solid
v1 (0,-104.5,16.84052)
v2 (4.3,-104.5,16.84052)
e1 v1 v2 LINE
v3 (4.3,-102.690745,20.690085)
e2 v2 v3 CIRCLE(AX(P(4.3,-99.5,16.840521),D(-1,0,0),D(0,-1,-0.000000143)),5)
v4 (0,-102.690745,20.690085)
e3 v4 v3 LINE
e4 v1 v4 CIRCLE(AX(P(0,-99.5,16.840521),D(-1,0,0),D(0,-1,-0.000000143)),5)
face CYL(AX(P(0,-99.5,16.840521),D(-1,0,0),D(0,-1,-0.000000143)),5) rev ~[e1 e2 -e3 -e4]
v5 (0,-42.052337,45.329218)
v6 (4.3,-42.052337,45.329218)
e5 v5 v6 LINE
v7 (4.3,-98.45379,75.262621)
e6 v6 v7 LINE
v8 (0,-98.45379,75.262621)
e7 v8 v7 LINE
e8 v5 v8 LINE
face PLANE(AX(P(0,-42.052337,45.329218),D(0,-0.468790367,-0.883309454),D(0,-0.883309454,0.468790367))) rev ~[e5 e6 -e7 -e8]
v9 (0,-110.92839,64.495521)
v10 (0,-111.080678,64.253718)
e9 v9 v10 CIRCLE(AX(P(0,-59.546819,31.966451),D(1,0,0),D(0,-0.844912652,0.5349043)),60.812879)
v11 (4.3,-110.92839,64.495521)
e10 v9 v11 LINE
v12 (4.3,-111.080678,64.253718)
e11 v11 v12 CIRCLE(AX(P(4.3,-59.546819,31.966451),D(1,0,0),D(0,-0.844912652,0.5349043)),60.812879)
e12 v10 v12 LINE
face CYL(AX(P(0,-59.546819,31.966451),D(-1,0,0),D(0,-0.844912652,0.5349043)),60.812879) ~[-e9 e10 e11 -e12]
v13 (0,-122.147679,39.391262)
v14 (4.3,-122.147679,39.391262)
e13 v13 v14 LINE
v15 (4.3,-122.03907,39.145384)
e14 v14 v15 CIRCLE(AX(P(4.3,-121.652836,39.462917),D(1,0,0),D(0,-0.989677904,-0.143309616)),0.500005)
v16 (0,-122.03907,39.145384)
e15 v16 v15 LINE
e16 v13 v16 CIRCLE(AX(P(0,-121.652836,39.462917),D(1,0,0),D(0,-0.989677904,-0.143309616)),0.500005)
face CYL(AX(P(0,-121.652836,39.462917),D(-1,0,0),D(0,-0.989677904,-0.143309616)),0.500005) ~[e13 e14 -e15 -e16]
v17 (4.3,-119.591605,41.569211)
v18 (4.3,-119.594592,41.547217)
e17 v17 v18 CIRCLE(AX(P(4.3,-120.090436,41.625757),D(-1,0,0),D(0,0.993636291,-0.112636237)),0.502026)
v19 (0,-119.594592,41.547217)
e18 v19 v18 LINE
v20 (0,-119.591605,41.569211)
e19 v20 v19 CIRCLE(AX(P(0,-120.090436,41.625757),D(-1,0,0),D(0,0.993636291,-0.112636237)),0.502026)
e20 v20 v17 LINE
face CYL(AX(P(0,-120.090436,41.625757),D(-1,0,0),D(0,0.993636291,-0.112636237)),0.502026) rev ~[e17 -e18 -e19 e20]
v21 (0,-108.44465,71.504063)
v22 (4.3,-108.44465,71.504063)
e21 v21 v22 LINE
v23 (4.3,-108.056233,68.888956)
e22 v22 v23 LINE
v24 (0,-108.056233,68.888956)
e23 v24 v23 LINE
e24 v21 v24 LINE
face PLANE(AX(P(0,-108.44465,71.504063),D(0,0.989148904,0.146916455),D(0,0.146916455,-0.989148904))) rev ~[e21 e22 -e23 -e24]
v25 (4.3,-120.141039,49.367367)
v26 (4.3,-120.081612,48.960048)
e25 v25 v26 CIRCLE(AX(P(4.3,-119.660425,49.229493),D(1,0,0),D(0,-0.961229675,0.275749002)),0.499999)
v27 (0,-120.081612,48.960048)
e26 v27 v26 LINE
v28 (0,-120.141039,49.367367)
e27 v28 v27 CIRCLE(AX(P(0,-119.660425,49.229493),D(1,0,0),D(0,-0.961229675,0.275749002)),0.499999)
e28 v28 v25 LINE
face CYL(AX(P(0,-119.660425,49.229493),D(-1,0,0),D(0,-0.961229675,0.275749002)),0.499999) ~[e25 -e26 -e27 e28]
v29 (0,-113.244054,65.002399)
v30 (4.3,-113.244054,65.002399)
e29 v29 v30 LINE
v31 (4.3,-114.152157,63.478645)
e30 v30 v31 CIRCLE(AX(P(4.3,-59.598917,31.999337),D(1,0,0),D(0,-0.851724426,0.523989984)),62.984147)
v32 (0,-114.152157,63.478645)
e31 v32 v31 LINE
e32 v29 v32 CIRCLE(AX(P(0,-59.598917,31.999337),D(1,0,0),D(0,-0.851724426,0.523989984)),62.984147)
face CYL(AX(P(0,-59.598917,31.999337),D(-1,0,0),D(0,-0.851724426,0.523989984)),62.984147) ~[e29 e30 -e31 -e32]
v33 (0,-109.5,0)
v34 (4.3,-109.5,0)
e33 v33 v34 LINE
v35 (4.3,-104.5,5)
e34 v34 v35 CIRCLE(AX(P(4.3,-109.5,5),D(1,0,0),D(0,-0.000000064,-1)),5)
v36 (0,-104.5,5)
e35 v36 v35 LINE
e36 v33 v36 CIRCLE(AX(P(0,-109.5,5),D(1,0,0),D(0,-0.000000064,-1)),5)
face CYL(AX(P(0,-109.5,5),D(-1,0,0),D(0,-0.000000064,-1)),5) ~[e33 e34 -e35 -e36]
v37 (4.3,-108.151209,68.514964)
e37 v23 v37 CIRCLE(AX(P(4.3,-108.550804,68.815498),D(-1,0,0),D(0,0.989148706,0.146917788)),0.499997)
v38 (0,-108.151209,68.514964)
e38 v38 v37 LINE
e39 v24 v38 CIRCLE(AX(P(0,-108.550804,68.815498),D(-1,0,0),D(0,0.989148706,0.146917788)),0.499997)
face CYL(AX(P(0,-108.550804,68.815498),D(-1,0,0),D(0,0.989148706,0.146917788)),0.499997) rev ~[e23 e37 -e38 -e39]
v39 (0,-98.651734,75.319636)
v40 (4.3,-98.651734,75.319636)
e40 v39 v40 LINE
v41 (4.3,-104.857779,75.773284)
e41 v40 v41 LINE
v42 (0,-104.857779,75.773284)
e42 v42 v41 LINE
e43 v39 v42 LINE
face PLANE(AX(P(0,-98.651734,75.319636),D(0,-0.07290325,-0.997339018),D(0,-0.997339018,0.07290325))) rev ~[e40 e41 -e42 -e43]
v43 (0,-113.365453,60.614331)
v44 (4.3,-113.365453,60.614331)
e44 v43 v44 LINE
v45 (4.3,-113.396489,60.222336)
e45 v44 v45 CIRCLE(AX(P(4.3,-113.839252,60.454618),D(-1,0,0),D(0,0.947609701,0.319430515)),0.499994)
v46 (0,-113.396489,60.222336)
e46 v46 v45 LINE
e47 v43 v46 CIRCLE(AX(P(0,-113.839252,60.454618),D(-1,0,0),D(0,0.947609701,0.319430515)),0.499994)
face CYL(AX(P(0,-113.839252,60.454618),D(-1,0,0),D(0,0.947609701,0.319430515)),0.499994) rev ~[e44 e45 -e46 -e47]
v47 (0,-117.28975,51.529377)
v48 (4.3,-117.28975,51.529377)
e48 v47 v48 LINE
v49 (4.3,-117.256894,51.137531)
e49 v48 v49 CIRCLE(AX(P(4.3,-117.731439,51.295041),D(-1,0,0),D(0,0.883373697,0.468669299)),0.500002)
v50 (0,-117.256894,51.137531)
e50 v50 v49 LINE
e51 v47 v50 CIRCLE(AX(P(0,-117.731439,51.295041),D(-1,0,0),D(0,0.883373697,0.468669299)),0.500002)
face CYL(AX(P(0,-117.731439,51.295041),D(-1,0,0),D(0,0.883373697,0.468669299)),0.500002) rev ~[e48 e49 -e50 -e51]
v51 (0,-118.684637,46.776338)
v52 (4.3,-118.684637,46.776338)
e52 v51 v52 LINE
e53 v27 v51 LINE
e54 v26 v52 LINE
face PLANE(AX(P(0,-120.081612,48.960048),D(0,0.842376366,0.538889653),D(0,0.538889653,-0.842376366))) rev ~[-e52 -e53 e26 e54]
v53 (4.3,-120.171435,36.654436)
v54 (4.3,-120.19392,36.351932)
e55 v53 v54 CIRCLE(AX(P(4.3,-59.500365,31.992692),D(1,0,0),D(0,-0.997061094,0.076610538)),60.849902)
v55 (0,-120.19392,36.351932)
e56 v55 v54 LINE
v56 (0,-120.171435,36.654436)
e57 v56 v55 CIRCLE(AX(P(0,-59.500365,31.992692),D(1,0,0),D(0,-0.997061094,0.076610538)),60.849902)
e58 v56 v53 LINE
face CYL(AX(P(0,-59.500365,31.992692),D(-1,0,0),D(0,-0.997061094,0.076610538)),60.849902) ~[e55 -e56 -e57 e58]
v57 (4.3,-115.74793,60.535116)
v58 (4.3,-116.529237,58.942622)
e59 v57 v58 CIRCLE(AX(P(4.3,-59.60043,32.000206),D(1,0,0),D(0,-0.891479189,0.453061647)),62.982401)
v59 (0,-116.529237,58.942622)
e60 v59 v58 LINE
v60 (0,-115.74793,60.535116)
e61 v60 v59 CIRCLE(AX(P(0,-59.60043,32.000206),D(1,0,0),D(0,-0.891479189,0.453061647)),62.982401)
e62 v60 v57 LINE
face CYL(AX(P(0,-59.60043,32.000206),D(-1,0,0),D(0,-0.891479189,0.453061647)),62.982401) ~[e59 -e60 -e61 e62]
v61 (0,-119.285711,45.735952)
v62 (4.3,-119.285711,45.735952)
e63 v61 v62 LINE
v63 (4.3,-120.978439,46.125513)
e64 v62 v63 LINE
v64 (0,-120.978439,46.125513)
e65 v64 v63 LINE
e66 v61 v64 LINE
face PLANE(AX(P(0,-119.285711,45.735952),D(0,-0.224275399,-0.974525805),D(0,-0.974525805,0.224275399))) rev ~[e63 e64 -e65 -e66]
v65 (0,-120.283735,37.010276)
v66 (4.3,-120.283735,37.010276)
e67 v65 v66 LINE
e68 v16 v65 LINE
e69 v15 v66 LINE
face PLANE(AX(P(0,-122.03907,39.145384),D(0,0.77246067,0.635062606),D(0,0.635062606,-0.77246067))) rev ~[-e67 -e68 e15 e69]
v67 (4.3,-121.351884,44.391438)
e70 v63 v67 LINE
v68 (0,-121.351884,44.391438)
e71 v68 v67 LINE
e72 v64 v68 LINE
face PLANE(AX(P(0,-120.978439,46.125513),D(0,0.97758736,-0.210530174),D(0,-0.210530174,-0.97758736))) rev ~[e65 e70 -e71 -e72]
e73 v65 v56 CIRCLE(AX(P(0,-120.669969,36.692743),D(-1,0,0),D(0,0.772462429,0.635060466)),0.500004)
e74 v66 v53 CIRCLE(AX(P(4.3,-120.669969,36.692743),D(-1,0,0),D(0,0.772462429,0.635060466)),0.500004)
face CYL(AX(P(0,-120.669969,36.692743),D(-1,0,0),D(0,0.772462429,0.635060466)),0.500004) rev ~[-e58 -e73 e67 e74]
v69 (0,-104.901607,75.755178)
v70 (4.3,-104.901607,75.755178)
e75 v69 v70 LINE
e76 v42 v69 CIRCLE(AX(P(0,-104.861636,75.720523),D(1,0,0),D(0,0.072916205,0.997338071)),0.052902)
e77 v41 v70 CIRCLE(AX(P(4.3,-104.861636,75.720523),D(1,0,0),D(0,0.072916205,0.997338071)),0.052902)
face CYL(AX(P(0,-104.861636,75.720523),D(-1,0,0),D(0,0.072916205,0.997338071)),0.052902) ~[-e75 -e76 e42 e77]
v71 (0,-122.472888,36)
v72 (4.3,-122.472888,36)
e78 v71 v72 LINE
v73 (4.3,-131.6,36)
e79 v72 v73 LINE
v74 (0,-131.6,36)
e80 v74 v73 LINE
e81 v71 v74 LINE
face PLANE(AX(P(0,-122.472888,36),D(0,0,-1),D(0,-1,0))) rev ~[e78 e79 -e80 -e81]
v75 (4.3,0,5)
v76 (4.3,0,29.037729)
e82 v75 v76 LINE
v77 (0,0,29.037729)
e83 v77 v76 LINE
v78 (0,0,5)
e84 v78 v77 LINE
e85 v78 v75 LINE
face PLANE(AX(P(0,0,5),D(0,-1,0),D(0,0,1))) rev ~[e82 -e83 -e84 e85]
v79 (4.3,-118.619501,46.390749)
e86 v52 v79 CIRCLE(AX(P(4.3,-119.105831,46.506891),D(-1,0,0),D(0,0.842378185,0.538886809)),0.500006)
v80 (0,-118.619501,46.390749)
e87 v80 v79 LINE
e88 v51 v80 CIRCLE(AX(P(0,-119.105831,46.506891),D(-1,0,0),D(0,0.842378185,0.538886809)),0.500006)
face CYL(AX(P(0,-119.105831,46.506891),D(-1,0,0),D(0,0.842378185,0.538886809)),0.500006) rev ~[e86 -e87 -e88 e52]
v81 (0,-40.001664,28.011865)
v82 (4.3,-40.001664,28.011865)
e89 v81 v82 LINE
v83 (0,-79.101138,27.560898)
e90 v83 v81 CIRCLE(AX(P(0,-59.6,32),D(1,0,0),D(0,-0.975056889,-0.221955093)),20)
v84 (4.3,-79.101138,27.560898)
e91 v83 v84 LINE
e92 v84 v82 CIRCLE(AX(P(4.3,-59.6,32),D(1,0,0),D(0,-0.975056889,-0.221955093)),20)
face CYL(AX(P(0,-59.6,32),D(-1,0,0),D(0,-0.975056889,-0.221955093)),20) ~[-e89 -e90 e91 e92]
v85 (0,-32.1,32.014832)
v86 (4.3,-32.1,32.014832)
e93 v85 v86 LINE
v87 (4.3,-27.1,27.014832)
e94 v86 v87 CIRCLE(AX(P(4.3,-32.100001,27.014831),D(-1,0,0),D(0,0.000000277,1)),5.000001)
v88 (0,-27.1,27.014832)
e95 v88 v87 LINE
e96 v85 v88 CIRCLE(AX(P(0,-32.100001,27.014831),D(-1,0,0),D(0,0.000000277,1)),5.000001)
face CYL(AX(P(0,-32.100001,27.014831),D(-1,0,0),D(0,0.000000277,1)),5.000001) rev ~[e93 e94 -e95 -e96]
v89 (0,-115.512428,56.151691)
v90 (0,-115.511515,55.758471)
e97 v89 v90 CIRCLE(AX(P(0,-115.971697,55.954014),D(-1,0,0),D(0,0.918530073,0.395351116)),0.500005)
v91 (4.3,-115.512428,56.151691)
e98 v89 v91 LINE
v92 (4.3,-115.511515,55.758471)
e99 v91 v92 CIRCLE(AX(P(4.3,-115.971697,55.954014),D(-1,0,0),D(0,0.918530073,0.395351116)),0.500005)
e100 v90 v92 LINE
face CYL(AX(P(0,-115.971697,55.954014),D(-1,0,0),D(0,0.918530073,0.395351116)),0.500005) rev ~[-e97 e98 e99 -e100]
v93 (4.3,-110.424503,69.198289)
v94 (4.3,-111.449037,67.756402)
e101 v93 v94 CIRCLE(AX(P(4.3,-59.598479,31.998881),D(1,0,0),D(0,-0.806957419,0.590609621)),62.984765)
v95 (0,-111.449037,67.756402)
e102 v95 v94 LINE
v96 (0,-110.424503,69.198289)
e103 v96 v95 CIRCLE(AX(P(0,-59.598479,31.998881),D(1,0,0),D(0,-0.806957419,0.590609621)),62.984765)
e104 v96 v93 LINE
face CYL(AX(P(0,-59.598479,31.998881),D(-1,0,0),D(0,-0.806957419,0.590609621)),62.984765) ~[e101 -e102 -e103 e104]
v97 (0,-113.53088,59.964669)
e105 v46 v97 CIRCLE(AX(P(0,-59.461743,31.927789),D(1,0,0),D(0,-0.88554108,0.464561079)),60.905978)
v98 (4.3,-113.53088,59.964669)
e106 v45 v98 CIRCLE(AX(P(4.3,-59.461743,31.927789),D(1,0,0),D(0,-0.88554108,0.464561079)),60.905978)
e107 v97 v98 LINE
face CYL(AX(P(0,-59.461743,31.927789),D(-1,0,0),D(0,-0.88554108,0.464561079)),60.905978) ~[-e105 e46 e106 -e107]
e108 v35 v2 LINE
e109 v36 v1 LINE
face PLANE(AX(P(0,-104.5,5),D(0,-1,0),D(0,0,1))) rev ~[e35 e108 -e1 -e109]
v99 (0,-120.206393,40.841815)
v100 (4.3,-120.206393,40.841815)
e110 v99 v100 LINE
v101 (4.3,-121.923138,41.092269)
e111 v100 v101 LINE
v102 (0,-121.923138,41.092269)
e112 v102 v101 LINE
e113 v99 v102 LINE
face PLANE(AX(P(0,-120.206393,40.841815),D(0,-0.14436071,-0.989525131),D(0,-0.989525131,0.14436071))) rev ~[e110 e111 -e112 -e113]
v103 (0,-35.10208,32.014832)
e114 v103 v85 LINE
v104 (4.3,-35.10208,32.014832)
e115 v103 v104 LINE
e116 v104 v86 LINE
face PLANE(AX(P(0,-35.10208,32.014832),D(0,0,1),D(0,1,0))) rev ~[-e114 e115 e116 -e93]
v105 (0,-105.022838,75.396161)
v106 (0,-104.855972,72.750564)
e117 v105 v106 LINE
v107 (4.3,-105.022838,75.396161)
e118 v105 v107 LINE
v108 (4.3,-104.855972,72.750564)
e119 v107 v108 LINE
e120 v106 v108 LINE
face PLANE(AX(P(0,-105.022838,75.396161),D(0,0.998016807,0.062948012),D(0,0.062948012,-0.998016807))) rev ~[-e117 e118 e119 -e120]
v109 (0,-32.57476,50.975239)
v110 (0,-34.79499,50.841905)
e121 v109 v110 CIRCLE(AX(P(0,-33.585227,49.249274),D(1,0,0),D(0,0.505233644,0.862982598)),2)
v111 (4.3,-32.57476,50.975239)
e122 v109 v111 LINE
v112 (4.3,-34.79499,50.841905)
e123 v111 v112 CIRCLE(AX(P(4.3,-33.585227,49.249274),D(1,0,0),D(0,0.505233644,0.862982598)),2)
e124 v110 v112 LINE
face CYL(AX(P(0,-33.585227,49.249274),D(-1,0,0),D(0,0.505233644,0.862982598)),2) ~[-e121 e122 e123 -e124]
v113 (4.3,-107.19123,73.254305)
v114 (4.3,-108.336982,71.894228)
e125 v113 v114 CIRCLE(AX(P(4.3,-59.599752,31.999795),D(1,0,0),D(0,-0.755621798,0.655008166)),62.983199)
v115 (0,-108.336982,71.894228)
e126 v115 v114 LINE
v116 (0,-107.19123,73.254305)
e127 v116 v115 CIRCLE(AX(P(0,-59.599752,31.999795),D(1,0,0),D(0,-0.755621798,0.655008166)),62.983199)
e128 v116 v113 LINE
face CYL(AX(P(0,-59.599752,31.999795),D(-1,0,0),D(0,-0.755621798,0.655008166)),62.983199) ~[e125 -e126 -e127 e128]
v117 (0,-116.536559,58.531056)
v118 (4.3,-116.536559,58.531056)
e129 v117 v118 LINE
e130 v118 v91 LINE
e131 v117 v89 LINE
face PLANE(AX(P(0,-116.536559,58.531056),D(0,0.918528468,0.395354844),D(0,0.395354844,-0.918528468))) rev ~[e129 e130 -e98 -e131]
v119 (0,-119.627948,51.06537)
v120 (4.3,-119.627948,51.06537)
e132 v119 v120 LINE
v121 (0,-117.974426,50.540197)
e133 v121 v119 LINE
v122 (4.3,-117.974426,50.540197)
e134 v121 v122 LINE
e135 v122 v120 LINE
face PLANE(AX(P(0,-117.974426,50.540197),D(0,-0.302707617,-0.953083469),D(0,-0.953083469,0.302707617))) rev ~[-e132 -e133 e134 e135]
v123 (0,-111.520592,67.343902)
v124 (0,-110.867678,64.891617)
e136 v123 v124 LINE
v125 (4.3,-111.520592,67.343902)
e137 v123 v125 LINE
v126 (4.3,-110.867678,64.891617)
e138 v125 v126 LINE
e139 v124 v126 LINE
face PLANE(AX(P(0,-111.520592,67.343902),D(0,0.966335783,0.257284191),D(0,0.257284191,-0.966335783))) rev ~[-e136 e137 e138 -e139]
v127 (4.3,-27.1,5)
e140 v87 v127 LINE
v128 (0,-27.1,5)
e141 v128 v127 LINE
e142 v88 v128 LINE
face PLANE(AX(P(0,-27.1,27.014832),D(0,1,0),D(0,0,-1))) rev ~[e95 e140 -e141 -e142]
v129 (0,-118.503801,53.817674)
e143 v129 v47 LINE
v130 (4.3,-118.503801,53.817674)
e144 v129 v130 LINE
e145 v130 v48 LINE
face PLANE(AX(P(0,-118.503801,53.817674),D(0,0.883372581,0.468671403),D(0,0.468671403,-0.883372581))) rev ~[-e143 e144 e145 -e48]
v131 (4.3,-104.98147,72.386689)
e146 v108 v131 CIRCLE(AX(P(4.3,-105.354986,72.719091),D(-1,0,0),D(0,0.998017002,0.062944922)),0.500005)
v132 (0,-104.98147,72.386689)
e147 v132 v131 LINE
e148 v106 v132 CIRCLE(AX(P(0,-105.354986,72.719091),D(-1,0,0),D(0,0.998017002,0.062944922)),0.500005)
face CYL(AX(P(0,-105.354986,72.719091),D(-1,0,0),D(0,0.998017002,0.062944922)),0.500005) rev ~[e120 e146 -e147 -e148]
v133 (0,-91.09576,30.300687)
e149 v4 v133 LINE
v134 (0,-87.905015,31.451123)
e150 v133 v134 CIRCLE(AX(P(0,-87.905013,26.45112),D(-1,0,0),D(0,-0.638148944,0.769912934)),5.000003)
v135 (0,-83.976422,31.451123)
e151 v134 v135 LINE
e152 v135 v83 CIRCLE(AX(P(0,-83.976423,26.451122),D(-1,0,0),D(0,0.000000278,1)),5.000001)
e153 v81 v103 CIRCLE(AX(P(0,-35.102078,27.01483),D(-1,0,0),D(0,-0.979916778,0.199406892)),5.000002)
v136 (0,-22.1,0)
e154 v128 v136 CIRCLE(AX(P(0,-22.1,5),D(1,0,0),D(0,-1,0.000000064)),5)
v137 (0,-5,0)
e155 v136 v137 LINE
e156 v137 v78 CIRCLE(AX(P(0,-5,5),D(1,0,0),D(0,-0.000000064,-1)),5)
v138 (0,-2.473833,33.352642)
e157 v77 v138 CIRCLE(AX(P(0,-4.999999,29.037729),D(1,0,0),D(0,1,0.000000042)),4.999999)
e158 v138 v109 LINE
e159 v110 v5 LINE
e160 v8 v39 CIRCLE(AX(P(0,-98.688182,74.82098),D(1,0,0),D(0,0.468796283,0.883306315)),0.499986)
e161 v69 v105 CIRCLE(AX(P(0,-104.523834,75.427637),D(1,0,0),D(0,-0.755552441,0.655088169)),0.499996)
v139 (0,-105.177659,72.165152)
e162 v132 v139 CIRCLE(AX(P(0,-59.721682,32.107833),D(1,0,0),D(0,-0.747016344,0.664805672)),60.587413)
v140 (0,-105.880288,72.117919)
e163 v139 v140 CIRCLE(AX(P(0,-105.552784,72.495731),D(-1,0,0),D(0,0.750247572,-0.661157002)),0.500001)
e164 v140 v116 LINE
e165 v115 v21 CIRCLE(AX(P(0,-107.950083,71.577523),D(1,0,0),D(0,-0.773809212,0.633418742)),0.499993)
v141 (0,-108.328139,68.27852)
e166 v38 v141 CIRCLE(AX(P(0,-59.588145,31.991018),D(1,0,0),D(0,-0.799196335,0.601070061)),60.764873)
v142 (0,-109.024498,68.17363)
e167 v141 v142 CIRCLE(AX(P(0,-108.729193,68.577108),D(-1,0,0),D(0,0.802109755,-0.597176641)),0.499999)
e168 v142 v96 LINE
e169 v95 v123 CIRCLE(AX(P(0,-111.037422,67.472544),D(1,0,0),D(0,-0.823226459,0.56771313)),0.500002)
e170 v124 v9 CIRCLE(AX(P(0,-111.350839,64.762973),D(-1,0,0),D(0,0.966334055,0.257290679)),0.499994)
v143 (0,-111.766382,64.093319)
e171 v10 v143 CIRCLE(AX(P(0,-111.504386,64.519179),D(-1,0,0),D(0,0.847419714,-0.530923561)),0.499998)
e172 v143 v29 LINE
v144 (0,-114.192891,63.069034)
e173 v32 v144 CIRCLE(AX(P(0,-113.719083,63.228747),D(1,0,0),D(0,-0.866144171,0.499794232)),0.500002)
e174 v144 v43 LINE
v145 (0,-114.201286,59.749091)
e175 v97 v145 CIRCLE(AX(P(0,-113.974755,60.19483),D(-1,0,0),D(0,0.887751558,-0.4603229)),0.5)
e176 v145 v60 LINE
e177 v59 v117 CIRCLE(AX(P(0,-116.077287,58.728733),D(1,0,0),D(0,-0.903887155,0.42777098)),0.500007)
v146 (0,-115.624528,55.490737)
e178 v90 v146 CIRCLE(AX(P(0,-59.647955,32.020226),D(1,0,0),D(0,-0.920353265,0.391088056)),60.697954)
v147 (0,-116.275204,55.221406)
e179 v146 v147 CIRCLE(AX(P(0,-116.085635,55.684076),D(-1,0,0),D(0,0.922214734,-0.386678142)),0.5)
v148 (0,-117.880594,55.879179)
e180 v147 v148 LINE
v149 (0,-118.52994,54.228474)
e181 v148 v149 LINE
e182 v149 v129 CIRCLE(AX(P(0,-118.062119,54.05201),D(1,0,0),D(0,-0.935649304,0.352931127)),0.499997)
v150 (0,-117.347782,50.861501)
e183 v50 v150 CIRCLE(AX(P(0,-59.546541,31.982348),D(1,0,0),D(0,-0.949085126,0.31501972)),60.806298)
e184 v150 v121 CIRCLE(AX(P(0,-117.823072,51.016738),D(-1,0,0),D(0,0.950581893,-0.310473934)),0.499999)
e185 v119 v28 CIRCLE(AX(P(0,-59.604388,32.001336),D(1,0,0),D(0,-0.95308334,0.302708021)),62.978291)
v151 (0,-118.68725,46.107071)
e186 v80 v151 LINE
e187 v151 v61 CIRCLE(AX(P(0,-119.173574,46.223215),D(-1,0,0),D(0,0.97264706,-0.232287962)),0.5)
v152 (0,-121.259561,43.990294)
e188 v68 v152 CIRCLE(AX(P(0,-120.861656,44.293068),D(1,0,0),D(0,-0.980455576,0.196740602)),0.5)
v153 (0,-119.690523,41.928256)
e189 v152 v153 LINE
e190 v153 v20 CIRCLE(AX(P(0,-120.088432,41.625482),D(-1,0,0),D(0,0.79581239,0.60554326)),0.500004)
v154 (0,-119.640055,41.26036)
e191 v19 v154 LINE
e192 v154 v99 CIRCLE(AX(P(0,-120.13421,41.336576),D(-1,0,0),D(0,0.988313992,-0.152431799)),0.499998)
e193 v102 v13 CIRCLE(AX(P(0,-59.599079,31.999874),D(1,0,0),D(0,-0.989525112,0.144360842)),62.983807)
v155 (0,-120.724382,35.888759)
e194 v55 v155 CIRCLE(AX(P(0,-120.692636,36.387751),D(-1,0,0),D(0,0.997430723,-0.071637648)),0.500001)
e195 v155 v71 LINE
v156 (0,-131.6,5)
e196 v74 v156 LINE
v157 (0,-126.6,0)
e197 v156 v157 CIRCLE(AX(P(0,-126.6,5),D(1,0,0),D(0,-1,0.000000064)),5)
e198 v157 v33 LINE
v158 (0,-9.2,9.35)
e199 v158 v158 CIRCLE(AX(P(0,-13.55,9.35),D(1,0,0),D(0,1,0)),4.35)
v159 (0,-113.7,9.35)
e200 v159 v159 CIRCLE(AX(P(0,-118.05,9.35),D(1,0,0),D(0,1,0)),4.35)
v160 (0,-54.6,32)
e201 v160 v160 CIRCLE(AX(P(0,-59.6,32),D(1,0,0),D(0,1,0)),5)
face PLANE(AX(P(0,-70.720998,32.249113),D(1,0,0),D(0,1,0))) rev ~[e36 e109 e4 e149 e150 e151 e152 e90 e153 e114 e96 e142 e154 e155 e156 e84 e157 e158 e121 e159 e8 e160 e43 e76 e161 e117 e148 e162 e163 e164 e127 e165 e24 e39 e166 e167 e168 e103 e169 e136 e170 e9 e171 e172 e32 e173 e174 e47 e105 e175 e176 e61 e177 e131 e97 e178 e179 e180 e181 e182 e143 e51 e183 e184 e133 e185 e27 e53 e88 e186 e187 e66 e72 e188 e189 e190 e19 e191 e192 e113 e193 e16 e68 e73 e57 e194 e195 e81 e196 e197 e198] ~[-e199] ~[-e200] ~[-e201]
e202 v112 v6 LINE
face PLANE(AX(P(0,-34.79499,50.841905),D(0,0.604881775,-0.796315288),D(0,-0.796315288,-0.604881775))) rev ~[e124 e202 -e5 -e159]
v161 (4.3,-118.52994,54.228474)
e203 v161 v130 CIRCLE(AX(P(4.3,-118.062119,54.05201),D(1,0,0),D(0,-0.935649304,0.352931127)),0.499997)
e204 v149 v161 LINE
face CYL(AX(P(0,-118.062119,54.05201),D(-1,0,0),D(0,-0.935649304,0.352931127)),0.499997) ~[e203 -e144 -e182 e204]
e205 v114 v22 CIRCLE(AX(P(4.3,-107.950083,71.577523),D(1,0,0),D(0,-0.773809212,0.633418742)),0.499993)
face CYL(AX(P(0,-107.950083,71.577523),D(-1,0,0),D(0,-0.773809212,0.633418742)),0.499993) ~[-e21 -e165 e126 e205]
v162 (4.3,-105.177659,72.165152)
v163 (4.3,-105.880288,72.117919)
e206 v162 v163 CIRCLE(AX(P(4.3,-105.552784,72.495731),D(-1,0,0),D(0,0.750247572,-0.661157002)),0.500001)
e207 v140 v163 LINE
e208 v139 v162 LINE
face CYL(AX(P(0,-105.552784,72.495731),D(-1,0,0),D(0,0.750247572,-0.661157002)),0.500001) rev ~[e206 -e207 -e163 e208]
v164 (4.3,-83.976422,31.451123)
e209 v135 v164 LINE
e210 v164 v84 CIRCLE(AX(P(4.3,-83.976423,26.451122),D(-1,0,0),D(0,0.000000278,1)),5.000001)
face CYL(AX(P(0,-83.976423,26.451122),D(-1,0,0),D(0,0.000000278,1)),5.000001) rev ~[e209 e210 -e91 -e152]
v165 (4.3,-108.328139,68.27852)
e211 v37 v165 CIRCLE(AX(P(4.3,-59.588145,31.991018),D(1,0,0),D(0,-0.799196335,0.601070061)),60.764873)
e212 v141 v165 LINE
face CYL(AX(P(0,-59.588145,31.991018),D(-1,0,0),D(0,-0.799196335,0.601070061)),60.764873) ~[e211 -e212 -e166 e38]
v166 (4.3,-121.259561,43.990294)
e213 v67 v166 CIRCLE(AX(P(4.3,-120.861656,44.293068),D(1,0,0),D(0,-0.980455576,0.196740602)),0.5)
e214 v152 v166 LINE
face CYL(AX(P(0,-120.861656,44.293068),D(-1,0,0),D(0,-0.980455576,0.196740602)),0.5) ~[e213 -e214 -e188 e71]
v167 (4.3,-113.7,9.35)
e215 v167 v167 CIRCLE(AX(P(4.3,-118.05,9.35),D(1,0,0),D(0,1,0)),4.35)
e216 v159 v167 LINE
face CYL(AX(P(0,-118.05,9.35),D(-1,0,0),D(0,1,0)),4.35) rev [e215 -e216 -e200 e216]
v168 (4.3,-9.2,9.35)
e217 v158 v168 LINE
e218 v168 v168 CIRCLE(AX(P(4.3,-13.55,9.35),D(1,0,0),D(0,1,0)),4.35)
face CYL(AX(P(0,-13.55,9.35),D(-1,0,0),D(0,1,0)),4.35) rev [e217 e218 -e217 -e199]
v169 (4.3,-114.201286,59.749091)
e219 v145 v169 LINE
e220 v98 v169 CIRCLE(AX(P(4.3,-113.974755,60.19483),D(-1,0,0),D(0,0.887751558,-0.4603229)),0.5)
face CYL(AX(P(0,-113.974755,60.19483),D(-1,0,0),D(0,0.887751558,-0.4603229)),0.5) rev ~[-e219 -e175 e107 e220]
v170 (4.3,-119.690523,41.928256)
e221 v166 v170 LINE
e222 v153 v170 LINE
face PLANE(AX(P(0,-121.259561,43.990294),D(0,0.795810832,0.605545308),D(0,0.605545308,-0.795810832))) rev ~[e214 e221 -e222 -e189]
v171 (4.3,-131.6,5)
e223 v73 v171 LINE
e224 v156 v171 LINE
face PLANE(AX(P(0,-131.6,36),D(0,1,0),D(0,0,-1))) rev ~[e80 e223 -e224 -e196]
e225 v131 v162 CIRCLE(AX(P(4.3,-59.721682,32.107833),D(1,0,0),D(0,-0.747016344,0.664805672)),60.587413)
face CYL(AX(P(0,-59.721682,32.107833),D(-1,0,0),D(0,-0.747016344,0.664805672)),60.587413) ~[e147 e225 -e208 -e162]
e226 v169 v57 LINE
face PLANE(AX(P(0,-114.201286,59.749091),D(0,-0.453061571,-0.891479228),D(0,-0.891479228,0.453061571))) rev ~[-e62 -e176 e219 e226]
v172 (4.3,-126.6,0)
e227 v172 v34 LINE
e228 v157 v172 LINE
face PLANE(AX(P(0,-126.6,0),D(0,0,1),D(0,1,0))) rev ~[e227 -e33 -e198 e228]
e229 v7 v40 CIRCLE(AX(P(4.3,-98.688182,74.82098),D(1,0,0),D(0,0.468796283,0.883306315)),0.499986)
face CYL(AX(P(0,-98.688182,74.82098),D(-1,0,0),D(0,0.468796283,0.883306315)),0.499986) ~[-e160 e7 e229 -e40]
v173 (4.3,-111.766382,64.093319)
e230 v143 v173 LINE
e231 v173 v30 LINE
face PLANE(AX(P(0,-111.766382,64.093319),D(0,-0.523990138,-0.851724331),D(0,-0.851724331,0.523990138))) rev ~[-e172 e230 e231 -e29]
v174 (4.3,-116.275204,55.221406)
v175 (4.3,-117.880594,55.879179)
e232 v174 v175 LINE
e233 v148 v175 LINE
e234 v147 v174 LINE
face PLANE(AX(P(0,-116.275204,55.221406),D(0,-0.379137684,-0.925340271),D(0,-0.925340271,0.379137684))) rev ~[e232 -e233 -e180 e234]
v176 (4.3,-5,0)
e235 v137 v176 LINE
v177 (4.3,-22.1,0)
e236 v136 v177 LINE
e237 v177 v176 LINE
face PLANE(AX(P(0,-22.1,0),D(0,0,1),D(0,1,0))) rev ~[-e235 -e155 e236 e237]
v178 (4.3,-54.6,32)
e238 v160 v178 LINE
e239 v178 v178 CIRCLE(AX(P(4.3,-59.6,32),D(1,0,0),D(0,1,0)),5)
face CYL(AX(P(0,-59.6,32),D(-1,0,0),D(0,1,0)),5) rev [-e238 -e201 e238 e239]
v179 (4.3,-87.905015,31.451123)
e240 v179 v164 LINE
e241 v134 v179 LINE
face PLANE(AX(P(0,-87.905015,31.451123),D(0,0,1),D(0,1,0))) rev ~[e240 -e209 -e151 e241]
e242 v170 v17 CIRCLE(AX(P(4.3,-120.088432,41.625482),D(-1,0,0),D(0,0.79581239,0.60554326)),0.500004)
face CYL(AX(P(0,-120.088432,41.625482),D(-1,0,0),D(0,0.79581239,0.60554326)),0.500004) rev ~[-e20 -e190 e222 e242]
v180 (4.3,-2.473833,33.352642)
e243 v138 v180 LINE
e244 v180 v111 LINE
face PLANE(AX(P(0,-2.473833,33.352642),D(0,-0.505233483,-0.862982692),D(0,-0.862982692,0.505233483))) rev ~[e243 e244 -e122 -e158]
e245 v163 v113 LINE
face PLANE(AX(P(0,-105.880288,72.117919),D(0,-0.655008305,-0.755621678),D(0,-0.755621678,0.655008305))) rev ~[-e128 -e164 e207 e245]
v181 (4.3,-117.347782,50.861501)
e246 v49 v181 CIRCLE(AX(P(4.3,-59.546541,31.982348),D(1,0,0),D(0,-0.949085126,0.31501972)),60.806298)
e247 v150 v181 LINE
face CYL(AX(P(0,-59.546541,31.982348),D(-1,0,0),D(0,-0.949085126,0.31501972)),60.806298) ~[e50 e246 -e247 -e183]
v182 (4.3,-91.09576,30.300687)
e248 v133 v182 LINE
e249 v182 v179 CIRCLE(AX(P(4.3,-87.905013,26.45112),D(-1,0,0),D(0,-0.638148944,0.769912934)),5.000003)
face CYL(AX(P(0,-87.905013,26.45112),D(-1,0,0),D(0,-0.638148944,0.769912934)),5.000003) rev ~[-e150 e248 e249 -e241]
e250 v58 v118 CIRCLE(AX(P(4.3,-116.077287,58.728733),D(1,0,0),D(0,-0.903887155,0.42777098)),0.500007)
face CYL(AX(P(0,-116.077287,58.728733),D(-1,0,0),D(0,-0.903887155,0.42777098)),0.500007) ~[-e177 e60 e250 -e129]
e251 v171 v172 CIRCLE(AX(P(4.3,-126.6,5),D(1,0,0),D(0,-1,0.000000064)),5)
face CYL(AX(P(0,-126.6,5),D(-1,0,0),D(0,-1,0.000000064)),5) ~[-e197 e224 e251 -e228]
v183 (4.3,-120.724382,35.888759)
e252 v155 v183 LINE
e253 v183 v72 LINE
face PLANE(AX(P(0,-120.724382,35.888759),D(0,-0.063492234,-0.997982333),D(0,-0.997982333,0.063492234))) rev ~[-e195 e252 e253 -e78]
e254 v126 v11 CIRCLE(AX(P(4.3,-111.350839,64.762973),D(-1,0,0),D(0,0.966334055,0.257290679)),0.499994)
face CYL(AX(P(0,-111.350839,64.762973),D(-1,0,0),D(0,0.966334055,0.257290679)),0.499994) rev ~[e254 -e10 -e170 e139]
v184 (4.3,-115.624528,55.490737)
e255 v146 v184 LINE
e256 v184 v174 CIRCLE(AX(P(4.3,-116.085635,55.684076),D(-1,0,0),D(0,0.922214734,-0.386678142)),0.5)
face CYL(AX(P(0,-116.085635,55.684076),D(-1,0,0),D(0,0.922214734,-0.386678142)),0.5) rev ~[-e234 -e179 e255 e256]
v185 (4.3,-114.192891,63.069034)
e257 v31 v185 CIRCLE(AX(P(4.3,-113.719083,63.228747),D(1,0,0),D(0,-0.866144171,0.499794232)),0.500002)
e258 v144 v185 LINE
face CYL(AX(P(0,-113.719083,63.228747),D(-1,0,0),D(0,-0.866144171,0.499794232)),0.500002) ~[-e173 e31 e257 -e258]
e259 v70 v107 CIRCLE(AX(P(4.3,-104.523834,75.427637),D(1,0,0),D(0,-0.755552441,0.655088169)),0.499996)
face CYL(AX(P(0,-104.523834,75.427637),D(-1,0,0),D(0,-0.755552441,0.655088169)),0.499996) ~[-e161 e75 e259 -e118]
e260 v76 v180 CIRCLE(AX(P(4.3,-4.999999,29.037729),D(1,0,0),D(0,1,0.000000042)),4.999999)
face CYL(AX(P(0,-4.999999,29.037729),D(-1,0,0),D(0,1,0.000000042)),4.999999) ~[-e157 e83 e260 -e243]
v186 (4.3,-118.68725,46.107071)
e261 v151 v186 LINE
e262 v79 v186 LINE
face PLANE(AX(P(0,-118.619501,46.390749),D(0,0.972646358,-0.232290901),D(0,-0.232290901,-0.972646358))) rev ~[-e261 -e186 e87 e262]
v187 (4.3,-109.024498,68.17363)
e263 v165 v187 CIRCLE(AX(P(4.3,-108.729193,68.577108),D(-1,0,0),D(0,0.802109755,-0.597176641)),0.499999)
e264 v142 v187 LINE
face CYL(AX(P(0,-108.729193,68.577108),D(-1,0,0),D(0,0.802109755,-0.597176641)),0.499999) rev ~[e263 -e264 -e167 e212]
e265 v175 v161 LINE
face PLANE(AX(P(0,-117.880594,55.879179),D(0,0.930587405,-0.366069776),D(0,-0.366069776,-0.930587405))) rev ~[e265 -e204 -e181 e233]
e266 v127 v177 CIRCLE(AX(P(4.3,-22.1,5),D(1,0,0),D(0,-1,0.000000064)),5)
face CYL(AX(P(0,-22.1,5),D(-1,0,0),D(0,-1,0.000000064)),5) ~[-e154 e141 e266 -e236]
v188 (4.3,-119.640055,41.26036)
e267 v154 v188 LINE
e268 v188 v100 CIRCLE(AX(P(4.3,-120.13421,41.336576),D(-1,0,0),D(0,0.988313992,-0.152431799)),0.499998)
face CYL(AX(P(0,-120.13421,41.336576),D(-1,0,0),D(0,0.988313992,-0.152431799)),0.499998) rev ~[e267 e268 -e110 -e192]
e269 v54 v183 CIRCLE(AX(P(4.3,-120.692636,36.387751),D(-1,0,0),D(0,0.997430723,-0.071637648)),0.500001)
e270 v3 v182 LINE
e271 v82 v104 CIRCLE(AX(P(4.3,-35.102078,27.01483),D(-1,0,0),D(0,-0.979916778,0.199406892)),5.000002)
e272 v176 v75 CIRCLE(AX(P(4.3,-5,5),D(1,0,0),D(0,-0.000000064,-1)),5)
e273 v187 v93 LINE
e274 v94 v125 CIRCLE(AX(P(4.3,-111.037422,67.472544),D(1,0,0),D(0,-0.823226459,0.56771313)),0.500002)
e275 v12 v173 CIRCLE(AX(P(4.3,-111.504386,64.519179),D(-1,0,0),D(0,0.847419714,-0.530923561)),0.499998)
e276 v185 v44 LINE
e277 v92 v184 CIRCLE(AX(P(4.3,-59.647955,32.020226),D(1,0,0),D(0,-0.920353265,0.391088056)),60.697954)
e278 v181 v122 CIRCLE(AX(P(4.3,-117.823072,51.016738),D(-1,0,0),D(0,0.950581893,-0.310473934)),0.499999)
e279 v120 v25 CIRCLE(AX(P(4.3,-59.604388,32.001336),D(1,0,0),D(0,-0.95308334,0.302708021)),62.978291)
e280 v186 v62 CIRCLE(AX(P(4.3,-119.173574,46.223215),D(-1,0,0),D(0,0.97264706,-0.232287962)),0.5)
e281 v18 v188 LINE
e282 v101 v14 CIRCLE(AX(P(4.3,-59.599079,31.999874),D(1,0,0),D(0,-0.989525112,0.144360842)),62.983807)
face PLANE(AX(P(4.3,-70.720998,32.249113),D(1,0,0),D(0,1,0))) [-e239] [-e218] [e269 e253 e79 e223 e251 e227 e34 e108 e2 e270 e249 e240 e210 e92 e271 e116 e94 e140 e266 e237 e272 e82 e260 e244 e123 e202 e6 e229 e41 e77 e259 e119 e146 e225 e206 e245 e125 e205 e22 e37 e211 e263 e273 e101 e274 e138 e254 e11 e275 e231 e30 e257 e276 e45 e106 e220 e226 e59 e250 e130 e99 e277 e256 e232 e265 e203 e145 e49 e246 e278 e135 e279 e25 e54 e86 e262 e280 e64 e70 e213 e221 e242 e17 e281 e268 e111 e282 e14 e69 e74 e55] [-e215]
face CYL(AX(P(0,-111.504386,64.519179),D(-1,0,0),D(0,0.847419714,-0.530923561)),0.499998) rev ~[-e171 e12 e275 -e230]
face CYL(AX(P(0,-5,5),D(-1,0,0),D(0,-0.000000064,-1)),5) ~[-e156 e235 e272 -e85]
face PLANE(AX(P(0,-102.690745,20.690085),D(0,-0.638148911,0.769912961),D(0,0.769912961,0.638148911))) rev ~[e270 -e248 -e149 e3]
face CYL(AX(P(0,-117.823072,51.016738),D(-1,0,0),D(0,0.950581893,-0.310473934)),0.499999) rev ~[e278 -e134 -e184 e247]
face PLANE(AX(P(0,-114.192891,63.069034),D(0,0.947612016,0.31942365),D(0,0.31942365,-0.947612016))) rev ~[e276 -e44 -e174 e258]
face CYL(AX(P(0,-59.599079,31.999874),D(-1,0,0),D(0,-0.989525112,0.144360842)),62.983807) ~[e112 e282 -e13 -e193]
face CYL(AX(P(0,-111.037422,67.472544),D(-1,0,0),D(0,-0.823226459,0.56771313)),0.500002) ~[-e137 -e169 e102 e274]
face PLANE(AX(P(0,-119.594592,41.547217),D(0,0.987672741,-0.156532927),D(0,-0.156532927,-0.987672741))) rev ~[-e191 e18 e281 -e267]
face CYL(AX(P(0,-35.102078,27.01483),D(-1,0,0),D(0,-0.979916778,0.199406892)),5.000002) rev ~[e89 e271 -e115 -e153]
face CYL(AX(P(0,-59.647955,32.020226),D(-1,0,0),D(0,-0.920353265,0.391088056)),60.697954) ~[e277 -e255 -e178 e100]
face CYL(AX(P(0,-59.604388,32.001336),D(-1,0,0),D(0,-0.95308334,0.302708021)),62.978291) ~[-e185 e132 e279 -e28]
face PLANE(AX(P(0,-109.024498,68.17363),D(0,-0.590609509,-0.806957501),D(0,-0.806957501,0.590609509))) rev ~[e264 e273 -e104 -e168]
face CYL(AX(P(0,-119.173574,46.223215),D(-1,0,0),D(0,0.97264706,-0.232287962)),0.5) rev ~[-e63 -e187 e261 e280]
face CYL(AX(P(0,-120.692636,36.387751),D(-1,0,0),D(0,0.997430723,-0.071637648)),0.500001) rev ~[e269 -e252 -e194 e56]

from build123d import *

# Parameters (mm, degrees)
F0_R     = 4.35
F0_R_2   = 5
F1_DEPTH = 4.3


with BuildPart() as f1:
    # F0 (on Right) → F1 (new body)
    with BuildSketch(Plane.YZ):
        with BuildLine():
            Line((-22.1, 0), (-5, 0))
            ThreePointArc((-5, 0), (-1.464466, 1.464466), (0, 5))
            Line((0, 5), (0, 29.037729))
            ThreePointArc((0, 29.037729), (-0.662326, 31.524611), (-2.473833, 33.352642))
            Line((-2.473833, 33.352642), (-32.57476, 50.975239))
            ThreePointArc((-32.57476, 50.975239), (-33.70512, 51.245677), (-34.79499, 50.841905))
            Line((-34.79499, 50.841905), (-42.052337, 45.329218))
            Line((-42.052337, 45.329218), (-98.45379, 75.262621))
            ThreePointArc((-98.45379, 75.262621), (-98.549794, 75.301433), (-98.651734, 75.319636))
            Line((-98.651734, 75.319636), (-104.857779, 75.773284))
            ThreePointArc((-104.857779, 75.773284), (-104.881835, 75.769417), (-104.901607, 75.755178))
            ThreePointArc((-104.901607, 75.755178), (-104.997551, 75.587599), (-105.022838, 75.396161))
            Line((-105.022838, 75.396161), (-104.855972, 72.750564))
            ThreePointArc((-104.855972, 72.750564), (-104.882304, 72.556066), (-104.98147, 72.386689))
            ThreePointArc((-104.98147, 72.386689), (-105.0797, 72.27604), (-105.177659, 72.165152))
            ThreePointArc((-105.177659, 72.165152), (-105.519248, 71.996856), (-105.880288, 72.117919))
            Line((-105.880288, 72.117919), (-107.19123, 73.254305))
            ThreePointArc((-107.19123, 73.254305), (-107.768907, 72.57831), (-108.336982, 71.894228))
            ThreePointArc((-108.336982, 71.894228), (-108.432061, 71.710527), (-108.44465, 71.504063))
            Line((-108.44465, 71.504063), (-108.056233, 68.888956))
            ThreePointArc((-108.056233, 68.888956), (-108.06619, 68.692429), (-108.151209, 68.514964))
            ThreePointArc((-108.151209, 68.514964), (-108.239818, 68.396849), (-108.328139, 68.27852))
            ThreePointArc((-108.328139, 68.27852), (-108.65472, 68.082686), (-109.024498, 68.17363))
            Line((-109.024498, 68.17363), (-110.424503, 69.198289))
            ThreePointArc((-110.424503, 69.198289), (-110.941832, 68.480942), (-111.449037, 67.756402))
            ThreePointArc((-111.449037, 67.756402), (-111.530067, 67.558002), (-111.520592, 67.343902))
            Line((-111.520592, 67.343902), (-110.867678, 64.891617))
            ThreePointArc((-110.867678, 64.891617), (-110.856617, 64.687221), (-110.92839, 64.495521))
            ThreePointArc((-110.92839, 64.495521), (-111.004676, 64.374709), (-111.080678, 64.253718))
            ThreePointArc((-111.080678, 64.253718), (-111.390502, 64.032323), (-111.766382, 64.093319))
            Line((-111.766382, 64.093319), (-113.244054, 65.002399))
            ThreePointArc((-113.244054, 65.002399), (-113.70347, 64.243719), (-114.152157, 63.478645))
            ThreePointArc((-114.152157, 63.478645), (-114.216631, 63.278226), (-114.192891, 63.069034))
            Line((-114.192891, 63.069034), (-113.365453, 60.614331))
            ThreePointArc((-113.365453, 60.614331), (-113.340818, 60.415154), (-113.396489, 60.222336))
            ThreePointArc((-113.396489, 60.222336), (-113.463838, 60.093583), (-113.53088, 59.964669))
            ThreePointArc((-113.53088, 59.964669), (-113.821693, 59.718835), (-114.201286, 59.749091))
            Line((-114.201286, 59.749091), (-115.74793, 60.535116))
            ThreePointArc((-115.74793, 60.535116), (-116.14419, 59.74162), (-116.529237, 58.942622))
            ThreePointArc((-116.529237, 58.942622), (-116.577215, 58.737628), (-116.536559, 58.531056))
            Line((-116.536559, 58.531056), (-115.512428, 56.151691))
            ThreePointArc((-115.512428, 56.151691), (-115.471694, 55.955174), (-115.511515, 55.758471))
            ThreePointArc((-115.511515, 55.758471), (-115.568182, 55.624671), (-115.624528, 55.490737))
            ThreePointArc((-115.624528, 55.490737), (-115.894408, 55.222089), (-116.275204, 55.221406))
            Line((-116.275204, 55.221406), (-117.880594, 55.879179))
            Line((-117.880594, 55.879179), (-118.52994, 54.228474))
            ThreePointArc((-118.52994, 54.228474), (-118.561106, 54.020259), (-118.503801, 53.817674))
            Line((-118.503801, 53.817674), (-117.28975, 51.529377))
            ThreePointArc((-117.28975, 51.529377), (-117.233185, 51.336819), (-117.256894, 51.137531))
            ThreePointArc((-117.256894, 51.137531), (-117.302503, 50.99957), (-117.347782, 50.861501))
            ThreePointArc((-117.347782, 50.861501), (-117.594943, 50.571815), (-117.974426, 50.540197))
            Line((-117.974426, 50.540197), (-119.627948, 51.06537))
            ThreePointArc((-119.627948, 51.06537), (-119.890472, 50.218175), (-120.141039, 49.367367))
            ThreePointArc((-120.141039, 49.367367), (-120.155186, 49.157308), (-120.081612, 48.960048))
            Line((-120.081612, 48.960048), (-118.684637, 46.776338))
            ThreePointArc((-118.684637, 46.776338), (-118.61281, 46.590175), (-118.619501, 46.390749))
            Line((-118.619501, 46.390749), (-118.68725, 46.107071))
            ThreePointArc((-118.68725, 46.107071), (-118.910066, 45.798287), (-119.285711, 45.735952))
            Line((-119.285711, 45.735952), (-120.978439, 46.125513))
            Line((-120.978439, 46.125513), (-121.351884, 44.391438))
            ThreePointArc((-121.351884, 44.391438), (-121.348918, 44.180925), (-121.259561, 43.990294))
            Line((-121.259561, 43.990294), (-119.690523, 41.928256))
            ThreePointArc((-119.690523, 41.928256), (-119.606388, 41.758287), (-119.591605, 41.569211))
            ThreePointArc((-119.591605, 41.569211), (-119.592977, 41.558197), (-119.594592, 41.547217))
            Line((-119.594592, 41.547217), (-119.640055, 41.26036))
            ThreePointArc((-119.640055, 41.26036), (-119.83704, 40.934471), (-120.206393, 40.841815))
            Line((-120.206393, 40.841815), (-121.923138, 41.092269))
            ThreePointArc((-121.923138, 41.092269), (-122.041201, 40.24253), (-122.147679, 39.391262))
            ThreePointArc((-122.147679, 39.391262), (-122.110207, 39.260888), (-122.03907, 39.145384))
            Line((-122.03907, 39.145384), (-120.283735, 37.010276))
            ThreePointArc((-120.283735, 37.010276), (-120.193147, 36.843224), (-120.171435, 36.654436))
            ThreePointArc((-120.171435, 36.654436), (-120.182866, 36.503198), (-120.19392, 36.351932))
            ThreePointArc((-120.19392, 36.351932), (-120.363778, 36.011117), (-120.724382, 35.888759))
            Line((-120.724382, 35.888759), (-122.472888, 36))
            Line((-122.472888, 36), (-131.6, 36))
            Line((-131.6, 36), (-131.6, 5))
            ThreePointArc((-131.6, 5), (-130.135534, 1.464466), (-126.6, 0))
            Line((-126.6, 0), (-109.5, 0))
            ThreePointArc((-109.5, 0), (-105.964466, 1.464466), (-104.5, 5))
            Line((-104.5, 5), (-104.5, 16.84052))
            ThreePointArc((-104.5, 16.84052), (-104.025137, 18.967287), (-102.690745, 20.690085))
            Line((-102.690745, 20.690085), (-91.09576, 30.300687))
            ThreePointArc((-91.09576, 30.300687), (-89.600918, 31.154729), (-87.905015, 31.451123))
            Line((-87.905015, 31.451123), (-83.976422, 31.451123))
            ThreePointArc((-83.976422, 31.451123), (-80.857839, 30.359375), (-79.101138, 27.560898))
            ThreePointArc((-79.101138, 27.560898), (-59.369338, 12.00133), (-40.001664, 28.011865))
            ThreePointArc((-40.001664, 28.011865), (-38.26553, 30.886857), (-35.10208, 32.014832))
            Line((-35.10208, 32.014832), (-32.1, 32.014832))
            ThreePointArc((-32.1, 32.014832), (-28.564466, 30.550365), (-27.1, 27.014832))
            Line((-27.1, 27.014832), (-27.1, 5))
            ThreePointArc((-27.1, 5), (-25.635534, 1.464466), (-22.1, 0))
        make_face()
        with Locations((-118.05, 9.35)):
            Circle(F0_R, mode=Mode.SUBTRACT)
        with Locations((-13.55, 9.35)):
            Circle(F0_R, mode=Mode.SUBTRACT)
        with Locations((-59.6, 32)):
            Circle(F0_R_2, mode=Mode.SUBTRACT)
    extrude(amount=F1_DEPTH)


solid = f1.part
